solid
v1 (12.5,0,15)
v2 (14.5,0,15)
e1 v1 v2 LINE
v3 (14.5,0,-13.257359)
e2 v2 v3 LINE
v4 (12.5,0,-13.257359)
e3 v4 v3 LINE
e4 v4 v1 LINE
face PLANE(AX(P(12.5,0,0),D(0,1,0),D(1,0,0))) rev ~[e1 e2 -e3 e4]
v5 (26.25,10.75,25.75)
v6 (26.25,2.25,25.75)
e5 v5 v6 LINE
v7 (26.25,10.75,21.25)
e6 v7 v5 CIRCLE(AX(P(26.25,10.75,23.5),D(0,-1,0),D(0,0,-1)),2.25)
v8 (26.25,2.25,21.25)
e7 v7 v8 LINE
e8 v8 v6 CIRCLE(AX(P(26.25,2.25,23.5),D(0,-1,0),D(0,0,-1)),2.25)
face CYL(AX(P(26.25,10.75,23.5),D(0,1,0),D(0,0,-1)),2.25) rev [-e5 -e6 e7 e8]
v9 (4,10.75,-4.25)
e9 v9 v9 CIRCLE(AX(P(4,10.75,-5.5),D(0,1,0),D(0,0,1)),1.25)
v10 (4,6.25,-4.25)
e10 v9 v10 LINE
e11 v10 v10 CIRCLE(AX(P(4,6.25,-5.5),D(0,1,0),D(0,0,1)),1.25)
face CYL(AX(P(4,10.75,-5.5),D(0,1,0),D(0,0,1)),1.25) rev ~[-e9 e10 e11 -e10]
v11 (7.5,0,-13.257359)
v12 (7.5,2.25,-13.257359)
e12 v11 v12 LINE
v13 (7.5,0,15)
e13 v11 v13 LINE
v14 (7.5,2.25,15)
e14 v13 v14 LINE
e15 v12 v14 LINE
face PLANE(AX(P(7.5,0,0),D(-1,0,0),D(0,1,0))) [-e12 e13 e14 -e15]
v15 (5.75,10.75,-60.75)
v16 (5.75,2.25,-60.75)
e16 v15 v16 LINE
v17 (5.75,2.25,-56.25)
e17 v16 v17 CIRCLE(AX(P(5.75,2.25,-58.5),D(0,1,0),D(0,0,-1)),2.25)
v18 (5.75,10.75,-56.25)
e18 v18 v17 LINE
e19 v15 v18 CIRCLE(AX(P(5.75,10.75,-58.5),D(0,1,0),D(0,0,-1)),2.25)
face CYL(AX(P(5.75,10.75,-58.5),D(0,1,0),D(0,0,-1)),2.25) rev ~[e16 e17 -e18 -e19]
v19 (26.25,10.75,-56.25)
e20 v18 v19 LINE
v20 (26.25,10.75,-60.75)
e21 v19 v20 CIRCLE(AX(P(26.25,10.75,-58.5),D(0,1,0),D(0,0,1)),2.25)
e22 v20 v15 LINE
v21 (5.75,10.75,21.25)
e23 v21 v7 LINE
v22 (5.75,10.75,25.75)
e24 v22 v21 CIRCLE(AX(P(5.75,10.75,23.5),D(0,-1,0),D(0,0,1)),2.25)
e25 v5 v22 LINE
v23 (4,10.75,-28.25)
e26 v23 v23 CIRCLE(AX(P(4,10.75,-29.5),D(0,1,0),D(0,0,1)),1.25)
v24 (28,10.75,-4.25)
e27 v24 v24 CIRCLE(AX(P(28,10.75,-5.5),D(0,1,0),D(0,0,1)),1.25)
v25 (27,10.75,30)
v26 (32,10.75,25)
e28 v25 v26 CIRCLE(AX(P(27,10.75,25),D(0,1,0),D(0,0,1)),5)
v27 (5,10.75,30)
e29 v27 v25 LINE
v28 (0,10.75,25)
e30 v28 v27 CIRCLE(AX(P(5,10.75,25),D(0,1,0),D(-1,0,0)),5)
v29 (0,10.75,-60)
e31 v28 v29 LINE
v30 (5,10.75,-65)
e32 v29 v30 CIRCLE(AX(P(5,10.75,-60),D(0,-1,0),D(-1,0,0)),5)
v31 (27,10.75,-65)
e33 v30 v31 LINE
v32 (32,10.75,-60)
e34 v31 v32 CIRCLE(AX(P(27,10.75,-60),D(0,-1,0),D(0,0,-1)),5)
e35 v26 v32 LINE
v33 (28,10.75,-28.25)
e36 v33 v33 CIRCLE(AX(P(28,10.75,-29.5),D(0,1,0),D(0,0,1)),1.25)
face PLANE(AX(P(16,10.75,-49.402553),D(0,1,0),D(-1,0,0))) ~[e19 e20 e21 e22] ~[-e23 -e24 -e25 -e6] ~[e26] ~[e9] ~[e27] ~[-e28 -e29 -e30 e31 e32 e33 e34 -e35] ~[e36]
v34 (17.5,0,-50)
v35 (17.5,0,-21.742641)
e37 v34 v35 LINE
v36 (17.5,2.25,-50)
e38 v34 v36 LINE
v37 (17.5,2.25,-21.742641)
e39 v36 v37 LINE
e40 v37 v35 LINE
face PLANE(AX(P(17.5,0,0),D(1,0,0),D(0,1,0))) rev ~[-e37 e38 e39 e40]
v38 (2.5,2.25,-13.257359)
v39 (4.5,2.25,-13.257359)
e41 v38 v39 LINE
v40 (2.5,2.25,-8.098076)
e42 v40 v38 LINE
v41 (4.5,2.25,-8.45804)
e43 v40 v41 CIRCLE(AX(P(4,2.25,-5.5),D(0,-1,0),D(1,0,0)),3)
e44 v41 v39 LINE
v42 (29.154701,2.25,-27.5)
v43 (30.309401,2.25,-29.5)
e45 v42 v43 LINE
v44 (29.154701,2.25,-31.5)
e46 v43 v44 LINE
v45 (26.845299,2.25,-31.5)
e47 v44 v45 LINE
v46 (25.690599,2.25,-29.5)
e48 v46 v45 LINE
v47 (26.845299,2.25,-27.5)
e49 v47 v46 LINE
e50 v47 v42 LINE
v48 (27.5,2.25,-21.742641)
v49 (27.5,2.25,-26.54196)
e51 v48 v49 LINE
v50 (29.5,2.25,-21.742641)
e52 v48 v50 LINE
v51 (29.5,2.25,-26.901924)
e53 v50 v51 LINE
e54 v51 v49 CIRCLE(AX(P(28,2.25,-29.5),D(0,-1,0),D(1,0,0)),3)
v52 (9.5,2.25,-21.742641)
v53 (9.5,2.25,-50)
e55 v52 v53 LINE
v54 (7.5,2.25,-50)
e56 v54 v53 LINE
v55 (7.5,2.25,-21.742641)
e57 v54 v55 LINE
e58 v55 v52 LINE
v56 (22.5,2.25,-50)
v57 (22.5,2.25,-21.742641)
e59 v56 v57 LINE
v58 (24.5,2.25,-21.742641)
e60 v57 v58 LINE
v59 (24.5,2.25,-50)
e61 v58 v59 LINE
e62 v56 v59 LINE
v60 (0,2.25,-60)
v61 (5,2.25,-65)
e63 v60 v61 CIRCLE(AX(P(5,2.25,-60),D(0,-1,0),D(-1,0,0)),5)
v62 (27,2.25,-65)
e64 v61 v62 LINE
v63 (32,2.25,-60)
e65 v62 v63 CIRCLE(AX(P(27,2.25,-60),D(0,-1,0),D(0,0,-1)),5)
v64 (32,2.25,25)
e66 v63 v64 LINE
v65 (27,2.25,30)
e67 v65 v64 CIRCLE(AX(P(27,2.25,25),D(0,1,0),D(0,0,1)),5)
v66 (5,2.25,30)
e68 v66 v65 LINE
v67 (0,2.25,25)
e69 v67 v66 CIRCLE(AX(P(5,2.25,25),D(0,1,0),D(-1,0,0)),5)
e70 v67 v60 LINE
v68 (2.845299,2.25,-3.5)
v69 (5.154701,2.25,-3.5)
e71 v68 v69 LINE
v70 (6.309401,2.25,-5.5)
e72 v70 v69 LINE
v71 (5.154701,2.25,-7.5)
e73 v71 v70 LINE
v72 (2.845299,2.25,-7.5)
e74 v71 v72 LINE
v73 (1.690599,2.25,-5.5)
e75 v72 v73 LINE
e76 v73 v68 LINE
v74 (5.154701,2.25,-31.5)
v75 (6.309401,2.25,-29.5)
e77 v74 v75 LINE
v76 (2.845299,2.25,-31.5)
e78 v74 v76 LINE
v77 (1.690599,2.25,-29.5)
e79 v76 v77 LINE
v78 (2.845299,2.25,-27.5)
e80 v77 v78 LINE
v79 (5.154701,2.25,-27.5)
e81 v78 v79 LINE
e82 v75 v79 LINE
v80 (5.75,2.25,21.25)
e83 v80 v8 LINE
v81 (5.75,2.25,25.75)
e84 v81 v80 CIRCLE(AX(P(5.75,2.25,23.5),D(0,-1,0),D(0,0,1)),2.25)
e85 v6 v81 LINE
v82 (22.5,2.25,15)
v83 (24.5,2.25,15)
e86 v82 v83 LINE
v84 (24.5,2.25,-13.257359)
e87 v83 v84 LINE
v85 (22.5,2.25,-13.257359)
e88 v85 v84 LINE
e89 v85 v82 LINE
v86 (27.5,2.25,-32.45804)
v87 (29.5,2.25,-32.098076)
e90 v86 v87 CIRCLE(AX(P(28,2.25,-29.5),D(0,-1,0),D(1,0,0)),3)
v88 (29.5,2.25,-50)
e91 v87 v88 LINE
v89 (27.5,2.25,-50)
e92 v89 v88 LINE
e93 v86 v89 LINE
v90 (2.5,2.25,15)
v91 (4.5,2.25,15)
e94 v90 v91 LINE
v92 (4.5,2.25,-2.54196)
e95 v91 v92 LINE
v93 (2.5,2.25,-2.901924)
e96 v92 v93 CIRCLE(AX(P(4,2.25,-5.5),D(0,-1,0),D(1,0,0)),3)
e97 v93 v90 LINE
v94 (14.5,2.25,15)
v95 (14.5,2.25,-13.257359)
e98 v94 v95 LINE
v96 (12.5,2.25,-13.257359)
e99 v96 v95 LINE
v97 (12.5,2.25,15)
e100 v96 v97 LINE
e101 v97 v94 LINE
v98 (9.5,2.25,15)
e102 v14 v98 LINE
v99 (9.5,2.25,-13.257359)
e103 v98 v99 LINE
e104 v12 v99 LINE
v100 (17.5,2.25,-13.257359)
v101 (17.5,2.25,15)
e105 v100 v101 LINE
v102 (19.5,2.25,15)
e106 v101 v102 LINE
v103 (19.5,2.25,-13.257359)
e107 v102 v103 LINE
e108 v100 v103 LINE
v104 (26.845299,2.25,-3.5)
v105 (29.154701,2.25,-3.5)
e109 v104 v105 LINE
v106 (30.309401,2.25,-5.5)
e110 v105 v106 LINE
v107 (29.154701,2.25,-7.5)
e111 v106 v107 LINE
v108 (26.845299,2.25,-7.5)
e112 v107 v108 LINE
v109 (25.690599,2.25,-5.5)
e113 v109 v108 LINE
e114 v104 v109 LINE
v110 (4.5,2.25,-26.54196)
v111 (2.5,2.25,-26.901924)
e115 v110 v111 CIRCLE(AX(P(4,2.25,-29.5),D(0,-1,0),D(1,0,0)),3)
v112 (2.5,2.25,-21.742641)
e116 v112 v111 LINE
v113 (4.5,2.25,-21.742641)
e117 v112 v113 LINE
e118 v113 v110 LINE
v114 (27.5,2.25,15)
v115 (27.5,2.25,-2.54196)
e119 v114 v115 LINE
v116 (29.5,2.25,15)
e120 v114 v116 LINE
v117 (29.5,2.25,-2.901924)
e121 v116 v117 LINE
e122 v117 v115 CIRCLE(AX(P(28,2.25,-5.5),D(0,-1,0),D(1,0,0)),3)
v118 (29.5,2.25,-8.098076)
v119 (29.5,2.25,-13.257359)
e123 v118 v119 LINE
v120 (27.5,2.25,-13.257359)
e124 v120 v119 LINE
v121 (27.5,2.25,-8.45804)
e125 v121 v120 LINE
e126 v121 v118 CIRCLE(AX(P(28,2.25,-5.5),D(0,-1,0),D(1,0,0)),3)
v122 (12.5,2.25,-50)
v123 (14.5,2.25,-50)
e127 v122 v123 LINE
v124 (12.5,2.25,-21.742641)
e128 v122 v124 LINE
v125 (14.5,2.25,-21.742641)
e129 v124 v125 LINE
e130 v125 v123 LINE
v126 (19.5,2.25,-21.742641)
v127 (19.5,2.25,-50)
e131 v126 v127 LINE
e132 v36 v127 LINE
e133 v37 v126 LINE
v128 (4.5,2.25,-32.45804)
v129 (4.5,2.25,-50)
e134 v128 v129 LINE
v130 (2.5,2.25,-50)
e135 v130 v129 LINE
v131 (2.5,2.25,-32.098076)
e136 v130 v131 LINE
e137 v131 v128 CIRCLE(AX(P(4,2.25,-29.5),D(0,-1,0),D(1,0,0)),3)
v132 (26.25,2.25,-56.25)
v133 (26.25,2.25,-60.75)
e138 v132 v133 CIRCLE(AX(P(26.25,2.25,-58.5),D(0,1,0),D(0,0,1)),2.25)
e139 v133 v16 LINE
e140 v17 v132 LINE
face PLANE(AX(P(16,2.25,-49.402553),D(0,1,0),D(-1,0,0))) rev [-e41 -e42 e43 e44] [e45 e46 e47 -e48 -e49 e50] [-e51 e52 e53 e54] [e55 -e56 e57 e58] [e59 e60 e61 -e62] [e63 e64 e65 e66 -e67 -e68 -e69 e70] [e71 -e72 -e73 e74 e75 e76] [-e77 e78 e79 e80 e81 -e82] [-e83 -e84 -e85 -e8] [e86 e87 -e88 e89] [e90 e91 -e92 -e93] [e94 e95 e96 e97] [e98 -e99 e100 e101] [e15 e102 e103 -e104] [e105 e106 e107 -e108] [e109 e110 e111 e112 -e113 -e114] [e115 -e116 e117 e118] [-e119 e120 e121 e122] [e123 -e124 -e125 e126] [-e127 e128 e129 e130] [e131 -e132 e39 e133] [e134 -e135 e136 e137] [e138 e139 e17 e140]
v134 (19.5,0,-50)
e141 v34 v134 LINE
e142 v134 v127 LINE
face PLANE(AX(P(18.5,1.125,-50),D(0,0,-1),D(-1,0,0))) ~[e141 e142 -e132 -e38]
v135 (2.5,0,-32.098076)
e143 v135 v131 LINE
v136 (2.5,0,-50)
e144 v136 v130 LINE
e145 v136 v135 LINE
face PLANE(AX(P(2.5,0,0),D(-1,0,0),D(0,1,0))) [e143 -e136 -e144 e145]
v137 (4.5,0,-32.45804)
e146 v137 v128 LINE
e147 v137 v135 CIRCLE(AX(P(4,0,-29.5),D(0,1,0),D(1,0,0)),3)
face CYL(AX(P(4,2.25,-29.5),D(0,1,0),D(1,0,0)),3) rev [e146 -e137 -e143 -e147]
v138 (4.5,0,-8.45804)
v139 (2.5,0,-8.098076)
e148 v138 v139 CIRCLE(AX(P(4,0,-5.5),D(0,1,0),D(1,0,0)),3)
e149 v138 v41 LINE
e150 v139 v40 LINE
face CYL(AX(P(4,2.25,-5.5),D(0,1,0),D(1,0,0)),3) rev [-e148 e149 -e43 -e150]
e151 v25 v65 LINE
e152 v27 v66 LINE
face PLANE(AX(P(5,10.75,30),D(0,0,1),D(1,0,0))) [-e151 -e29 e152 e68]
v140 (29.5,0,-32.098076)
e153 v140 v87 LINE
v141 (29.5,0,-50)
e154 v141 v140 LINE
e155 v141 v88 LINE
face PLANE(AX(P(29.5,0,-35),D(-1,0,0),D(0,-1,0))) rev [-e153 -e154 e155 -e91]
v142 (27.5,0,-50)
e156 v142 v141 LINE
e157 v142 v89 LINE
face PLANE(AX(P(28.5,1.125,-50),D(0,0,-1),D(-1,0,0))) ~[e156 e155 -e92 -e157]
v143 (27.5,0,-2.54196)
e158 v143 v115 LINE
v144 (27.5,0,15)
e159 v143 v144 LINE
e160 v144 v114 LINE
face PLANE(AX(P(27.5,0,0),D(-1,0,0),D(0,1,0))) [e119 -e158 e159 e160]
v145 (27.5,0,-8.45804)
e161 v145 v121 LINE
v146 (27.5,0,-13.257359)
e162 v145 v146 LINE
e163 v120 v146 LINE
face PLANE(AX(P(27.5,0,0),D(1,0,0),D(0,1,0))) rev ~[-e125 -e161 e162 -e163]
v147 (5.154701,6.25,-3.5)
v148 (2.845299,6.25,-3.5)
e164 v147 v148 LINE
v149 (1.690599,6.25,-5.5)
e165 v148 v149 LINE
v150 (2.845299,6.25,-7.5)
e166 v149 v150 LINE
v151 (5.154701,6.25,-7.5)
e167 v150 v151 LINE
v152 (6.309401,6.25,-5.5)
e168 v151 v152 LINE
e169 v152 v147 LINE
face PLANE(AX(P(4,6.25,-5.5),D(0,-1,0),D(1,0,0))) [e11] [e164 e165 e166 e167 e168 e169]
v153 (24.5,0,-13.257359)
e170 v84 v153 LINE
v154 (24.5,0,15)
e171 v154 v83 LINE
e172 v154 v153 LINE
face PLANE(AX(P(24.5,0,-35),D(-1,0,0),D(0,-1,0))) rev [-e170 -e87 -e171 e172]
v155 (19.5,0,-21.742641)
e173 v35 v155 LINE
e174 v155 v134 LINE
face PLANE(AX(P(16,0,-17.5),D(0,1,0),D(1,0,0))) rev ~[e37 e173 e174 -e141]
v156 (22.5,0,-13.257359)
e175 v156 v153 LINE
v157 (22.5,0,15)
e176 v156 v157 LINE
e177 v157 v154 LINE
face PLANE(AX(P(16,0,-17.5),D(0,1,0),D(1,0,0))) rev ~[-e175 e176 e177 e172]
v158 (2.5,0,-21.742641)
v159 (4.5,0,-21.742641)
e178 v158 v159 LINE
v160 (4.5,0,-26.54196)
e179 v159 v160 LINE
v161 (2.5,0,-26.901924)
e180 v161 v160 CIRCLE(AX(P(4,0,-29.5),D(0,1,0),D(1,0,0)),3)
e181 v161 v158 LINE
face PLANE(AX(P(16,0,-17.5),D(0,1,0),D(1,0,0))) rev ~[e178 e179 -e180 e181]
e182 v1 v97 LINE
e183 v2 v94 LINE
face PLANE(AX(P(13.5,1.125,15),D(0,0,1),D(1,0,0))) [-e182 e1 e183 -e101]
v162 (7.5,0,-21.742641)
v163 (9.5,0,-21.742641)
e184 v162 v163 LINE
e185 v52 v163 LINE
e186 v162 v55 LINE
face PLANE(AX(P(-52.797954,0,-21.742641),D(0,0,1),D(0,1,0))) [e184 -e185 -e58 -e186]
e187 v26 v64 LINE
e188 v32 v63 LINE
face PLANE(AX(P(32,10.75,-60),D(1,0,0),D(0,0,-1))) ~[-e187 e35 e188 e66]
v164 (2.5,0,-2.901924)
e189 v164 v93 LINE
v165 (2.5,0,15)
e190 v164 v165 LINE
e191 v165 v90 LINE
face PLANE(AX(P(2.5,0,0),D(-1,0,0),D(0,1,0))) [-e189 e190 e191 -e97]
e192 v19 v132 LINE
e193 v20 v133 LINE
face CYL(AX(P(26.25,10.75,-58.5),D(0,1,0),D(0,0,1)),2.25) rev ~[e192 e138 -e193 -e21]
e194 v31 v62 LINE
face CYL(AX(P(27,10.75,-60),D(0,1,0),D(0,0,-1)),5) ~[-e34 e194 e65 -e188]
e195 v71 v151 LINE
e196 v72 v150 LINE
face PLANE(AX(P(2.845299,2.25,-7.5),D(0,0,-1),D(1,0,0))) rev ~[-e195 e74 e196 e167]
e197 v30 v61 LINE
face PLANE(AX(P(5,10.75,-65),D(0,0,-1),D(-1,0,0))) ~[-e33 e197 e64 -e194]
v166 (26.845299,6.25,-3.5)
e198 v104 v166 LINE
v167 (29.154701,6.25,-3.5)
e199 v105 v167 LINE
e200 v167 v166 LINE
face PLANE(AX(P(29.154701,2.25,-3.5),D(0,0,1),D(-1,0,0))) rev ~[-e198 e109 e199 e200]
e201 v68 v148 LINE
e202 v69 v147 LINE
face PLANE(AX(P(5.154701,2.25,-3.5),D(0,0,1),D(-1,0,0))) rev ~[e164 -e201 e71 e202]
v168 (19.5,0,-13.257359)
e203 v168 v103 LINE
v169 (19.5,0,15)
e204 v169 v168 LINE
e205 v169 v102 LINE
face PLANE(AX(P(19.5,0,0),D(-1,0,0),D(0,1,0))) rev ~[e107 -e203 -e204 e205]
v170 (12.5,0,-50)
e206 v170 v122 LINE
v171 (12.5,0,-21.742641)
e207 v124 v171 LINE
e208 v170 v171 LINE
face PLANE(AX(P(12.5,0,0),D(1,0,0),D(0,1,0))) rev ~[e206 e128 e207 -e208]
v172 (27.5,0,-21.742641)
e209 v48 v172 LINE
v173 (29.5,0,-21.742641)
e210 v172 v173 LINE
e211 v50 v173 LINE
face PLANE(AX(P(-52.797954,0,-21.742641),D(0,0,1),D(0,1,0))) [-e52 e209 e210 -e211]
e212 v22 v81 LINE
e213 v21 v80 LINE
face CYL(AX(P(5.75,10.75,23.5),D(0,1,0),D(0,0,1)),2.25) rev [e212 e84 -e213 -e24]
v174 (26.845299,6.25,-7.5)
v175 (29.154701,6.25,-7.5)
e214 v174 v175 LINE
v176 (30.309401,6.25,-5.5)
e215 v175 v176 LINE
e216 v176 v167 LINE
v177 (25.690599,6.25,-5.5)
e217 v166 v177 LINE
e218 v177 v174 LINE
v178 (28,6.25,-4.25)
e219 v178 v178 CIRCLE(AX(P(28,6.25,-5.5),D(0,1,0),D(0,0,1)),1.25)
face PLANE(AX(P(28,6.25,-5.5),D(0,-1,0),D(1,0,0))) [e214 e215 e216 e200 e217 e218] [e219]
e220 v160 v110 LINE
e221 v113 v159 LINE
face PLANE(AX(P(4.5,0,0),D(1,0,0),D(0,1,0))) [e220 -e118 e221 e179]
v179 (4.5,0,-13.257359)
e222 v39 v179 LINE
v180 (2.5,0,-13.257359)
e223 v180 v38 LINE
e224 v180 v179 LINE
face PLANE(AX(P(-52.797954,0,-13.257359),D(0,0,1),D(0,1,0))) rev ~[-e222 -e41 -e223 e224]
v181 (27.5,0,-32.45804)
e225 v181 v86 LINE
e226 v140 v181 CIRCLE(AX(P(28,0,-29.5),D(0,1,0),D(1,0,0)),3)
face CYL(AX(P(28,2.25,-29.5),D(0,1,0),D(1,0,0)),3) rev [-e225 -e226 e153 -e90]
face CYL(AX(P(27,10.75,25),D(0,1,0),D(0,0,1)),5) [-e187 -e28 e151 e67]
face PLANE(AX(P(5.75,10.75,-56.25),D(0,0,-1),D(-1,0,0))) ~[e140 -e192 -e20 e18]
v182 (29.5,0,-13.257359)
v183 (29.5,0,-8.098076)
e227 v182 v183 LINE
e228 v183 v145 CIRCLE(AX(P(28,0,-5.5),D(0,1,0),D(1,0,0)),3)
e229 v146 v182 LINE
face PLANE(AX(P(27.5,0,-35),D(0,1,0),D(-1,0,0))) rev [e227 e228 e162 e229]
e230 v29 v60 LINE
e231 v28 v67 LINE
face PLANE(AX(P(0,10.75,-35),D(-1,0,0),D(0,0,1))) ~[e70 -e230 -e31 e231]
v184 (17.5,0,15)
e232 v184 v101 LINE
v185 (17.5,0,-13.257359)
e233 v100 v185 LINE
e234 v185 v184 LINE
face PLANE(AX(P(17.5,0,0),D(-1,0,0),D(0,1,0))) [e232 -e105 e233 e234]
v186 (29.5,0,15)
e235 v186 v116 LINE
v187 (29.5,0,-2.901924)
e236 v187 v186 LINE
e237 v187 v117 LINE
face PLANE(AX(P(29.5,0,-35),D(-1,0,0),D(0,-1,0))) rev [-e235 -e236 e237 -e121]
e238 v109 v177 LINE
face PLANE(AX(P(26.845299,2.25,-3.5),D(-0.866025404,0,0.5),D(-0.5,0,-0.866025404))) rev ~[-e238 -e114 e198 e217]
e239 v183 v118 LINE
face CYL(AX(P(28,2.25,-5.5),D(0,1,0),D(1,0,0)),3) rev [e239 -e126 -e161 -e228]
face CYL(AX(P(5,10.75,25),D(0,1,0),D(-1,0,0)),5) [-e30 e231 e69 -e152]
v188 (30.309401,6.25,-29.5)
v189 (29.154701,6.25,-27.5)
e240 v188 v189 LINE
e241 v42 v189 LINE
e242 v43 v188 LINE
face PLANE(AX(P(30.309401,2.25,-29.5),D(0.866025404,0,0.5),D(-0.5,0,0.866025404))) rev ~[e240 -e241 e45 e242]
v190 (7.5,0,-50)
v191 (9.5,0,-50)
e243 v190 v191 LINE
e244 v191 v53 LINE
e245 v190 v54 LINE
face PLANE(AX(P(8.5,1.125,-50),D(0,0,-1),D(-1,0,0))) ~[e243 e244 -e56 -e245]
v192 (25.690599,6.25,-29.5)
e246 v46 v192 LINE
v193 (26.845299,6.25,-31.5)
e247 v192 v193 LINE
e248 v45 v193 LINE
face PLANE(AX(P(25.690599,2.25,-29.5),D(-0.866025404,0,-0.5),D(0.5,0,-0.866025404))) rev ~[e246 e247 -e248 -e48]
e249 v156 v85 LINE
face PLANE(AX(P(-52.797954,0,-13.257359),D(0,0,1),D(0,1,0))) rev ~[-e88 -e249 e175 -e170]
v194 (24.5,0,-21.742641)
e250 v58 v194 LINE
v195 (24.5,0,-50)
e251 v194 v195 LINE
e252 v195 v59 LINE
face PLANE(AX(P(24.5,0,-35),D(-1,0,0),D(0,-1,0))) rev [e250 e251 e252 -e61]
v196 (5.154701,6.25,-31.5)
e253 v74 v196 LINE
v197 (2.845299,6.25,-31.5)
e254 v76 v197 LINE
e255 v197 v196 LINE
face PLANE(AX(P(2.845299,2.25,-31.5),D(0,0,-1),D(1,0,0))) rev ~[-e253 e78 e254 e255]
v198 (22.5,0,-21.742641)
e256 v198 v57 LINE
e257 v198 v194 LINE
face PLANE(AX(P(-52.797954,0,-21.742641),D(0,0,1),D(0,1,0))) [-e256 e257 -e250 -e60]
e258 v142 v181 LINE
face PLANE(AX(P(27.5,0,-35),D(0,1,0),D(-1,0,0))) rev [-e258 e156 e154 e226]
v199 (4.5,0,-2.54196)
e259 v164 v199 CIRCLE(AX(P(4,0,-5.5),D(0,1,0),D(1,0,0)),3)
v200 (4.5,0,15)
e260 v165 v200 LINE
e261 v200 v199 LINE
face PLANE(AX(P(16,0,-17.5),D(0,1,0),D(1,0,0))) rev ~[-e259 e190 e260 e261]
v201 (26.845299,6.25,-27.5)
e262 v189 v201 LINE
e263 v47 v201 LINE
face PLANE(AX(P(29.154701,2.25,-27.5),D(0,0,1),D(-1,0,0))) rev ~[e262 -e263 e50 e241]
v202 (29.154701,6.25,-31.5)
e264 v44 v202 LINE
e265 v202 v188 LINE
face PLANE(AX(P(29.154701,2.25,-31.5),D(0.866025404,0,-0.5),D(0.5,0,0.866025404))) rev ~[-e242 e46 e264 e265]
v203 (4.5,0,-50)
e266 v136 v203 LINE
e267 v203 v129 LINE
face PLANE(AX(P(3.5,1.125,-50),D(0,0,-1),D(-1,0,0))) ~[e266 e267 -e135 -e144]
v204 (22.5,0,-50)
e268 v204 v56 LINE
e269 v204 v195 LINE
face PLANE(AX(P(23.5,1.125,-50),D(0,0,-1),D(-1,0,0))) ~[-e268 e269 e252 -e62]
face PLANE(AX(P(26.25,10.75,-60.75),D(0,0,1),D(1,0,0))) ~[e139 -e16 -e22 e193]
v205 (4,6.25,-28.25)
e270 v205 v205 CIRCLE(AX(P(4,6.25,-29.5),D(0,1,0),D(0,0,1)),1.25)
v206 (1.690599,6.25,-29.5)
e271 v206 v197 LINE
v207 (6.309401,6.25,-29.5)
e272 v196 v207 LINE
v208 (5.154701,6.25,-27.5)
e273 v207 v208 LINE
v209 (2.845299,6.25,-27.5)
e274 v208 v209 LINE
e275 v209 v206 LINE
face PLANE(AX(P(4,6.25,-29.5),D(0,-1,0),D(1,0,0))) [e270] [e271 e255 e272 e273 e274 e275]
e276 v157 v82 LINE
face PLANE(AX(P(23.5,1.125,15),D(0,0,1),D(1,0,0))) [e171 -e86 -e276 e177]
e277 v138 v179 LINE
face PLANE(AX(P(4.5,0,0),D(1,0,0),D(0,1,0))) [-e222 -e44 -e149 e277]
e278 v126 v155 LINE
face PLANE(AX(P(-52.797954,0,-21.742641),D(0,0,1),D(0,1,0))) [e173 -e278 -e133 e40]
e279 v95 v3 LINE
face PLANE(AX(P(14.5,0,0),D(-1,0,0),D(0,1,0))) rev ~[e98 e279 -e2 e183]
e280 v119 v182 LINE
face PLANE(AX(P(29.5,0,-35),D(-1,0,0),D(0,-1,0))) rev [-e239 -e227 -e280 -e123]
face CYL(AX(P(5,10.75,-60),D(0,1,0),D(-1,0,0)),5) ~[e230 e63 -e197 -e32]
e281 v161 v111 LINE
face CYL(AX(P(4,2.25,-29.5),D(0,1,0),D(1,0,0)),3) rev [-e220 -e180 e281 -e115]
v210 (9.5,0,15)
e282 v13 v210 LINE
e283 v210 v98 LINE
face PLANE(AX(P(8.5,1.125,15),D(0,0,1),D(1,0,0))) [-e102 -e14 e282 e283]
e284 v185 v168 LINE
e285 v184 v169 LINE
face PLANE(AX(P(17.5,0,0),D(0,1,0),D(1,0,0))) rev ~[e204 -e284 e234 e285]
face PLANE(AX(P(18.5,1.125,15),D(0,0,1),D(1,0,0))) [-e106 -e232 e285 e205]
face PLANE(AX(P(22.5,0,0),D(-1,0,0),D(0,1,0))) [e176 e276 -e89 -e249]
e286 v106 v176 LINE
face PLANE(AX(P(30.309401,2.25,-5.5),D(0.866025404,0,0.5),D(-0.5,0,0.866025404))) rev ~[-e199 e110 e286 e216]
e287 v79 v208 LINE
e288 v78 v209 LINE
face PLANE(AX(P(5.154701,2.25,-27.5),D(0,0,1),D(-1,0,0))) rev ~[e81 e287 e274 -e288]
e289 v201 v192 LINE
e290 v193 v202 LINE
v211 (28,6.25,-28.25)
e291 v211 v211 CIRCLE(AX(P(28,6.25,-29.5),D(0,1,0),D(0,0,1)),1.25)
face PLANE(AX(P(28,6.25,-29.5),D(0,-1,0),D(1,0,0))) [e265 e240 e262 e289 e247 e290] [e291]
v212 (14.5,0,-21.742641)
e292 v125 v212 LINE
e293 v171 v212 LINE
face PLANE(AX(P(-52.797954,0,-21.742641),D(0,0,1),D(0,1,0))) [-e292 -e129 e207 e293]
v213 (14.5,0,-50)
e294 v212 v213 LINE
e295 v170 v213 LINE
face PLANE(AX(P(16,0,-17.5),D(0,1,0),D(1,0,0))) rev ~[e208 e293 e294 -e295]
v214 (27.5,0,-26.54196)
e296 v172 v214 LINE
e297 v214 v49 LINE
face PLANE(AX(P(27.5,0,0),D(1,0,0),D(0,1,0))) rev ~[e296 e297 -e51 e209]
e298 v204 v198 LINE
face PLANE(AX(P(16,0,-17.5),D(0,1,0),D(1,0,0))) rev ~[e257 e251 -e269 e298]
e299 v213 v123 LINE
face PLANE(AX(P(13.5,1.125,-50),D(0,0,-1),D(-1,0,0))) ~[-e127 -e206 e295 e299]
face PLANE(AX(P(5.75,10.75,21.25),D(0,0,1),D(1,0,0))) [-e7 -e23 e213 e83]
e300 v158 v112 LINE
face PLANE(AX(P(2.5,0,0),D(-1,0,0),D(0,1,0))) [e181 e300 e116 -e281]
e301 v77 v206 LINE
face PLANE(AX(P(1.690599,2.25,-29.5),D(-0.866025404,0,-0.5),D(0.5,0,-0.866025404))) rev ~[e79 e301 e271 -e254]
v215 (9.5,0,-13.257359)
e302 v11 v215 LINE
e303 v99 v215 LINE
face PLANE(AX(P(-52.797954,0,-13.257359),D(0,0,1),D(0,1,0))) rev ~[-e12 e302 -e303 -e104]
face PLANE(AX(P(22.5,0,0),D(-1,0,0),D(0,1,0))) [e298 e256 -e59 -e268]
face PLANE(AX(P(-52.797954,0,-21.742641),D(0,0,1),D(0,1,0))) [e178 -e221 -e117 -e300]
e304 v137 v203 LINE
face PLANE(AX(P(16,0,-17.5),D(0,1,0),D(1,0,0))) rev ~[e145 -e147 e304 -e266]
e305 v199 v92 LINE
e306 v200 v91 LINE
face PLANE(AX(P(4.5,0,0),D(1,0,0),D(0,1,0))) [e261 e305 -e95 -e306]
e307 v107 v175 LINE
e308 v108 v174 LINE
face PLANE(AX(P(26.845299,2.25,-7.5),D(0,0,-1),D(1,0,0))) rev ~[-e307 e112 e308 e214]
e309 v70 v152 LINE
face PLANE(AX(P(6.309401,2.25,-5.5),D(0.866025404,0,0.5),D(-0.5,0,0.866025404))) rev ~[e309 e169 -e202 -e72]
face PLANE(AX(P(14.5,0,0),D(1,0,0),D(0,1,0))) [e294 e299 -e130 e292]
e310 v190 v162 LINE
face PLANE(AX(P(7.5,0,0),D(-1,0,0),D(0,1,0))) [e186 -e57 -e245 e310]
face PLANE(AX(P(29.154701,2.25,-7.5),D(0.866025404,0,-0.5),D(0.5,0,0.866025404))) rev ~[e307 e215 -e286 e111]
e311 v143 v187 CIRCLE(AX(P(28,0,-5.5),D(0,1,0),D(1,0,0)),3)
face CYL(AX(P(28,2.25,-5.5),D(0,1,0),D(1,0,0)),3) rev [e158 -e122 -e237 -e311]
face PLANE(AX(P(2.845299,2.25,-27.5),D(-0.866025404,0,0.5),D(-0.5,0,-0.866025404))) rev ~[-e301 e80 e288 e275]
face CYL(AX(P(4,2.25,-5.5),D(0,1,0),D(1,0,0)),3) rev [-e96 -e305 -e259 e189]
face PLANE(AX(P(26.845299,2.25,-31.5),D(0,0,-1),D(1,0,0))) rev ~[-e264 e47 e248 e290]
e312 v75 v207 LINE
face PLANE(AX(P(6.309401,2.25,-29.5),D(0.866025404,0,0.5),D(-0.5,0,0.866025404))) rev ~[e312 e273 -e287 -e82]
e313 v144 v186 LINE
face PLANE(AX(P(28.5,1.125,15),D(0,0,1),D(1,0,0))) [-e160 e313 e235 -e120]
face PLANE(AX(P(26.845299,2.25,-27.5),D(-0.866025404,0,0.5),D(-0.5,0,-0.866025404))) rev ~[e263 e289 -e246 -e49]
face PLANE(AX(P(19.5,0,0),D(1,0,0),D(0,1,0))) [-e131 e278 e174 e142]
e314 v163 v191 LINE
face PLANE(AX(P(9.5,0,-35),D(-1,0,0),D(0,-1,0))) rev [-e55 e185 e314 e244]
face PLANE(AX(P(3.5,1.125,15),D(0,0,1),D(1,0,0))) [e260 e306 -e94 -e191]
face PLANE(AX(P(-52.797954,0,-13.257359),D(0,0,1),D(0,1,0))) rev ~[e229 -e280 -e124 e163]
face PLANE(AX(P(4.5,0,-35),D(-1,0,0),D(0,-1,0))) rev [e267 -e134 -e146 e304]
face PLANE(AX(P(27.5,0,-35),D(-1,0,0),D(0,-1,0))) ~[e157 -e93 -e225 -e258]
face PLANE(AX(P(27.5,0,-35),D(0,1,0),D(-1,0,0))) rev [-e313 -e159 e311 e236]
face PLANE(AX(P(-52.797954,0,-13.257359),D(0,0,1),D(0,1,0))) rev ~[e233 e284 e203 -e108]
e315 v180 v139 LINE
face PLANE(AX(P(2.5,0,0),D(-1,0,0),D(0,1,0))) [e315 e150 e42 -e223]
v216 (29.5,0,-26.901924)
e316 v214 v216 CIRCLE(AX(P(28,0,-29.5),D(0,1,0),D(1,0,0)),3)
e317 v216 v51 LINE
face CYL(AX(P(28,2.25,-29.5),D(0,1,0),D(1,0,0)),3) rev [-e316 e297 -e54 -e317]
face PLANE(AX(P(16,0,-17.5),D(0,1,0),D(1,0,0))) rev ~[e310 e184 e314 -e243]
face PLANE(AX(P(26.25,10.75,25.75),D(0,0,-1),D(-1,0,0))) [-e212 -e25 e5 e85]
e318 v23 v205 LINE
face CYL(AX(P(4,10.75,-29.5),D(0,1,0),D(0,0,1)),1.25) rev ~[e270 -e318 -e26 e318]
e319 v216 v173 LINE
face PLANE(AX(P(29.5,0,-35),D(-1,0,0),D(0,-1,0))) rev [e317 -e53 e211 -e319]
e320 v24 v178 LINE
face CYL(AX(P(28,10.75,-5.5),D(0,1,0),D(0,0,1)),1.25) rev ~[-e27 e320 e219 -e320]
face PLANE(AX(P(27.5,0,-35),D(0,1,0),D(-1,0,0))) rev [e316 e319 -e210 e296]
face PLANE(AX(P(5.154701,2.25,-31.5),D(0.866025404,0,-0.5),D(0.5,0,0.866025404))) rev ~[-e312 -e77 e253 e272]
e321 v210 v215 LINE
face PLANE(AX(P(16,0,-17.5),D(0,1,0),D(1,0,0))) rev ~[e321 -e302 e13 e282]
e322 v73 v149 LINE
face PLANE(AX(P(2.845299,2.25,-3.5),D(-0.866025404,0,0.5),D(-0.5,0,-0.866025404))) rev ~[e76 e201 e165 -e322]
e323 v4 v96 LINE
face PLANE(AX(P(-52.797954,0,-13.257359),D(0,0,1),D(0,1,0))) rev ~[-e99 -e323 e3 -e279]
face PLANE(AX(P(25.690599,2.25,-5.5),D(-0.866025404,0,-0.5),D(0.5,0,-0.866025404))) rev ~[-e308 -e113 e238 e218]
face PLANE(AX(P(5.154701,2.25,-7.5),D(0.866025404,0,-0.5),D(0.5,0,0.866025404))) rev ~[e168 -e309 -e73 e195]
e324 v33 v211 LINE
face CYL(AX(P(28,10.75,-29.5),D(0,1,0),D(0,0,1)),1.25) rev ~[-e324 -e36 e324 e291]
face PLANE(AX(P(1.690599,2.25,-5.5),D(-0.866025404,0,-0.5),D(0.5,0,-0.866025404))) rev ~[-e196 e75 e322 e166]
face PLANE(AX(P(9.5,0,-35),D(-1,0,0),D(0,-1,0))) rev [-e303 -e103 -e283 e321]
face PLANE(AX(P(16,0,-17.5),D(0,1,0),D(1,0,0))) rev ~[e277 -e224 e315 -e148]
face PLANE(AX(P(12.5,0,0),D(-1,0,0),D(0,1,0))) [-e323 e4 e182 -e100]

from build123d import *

# Parameters (mm, degrees)
SKETCH_1_W                = 32
SKETCH_1_H                = 35
EXTRUDE_1_DEPTH           = 10.75
SKETCH_3_W                = 3
SKETCH_3_H                = 2.25
CUT_EXTRUDE_1_DEPTH       = 49.62676732
SKETCH_6_R                = 4.5
CUT_EXTRUDE_4_DEPTH       = 2.25
EXTRUDE_2_DEPTH           = 8.5
SKETCH_10_R               = 1.25
CUT_EXTRUDE_5_DEPTH       = 74.243173743
CUT_EXTRUDE_8_DEPTH       = 4
SKETCH_13_W               = 2
SKETCH_13_H               = 2.25
EXTRUDE_3_DEPTH           = 15
SKETCH_14_R               = 3
CUT_EXTRUDE_9_DEPTH       = 73.946898495
CUT_EXTRUDE_10_DEPTH      = 68.797953509
CUT_EXTRUDE_10_DEPTH_BACK = 68.797953509
SKETCH_15_W               = 8.485281374
SKETCH_15_H               = 2.25


with BuildPart() as part:
    # Эскиз1 → Бобышка-Вытянуть1 (new body)
    with BuildSketch(Plane(origin=(0, 0, 0), x_dir=(1, 0, 0), z_dir=(0, 1, 0))):
        with Locations((16, 17.5)):
            Rectangle(SKETCH_1_W, SKETCH_1_H)
    extrude(amount=EXTRUDE_1_DEPTH)

    # Эскиз3 → Вырез-Вытянуть1 (cut, through all)
    with BuildSketch(Plane.XY):
        with Locations((16, 1.125)):
            Rectangle(SKETCH_3_W, SKETCH_3_H)
        with Locations((21, 1.125)):
            Rectangle(SKETCH_3_W, SKETCH_3_H)
        with Locations((26, 1.125)):
            Rectangle(SKETCH_3_W, SKETCH_3_H)
        with Locations((31, 1.125)):
            Rectangle(SKETCH_3_W, SKETCH_3_H)
        with Locations((11, 1.125)):
            Rectangle(SKETCH_3_W, SKETCH_3_H)
        with Locations((6, 1.125)):
            Rectangle(SKETCH_3_W, SKETCH_3_H)
        with Locations((1, 1.125)):
            Rectangle(SKETCH_3_W, SKETCH_3_H)
    extrude(amount=-CUT_EXTRUDE_1_DEPTH, mode=Mode.SUBTRACT)

    # Эскиз6 → Вырез-Вытянуть4 (cut)
    with BuildSketch(Plane.XZ):
        with Locations((16, -17.5)):
            Circle(SKETCH_6_R)
    extrude(amount=-CUT_EXTRUDE_4_DEPTH, mode=Mode.SUBTRACT)

    # Эскиз7 → Бобышка-Вытянуть2 (add)
    with BuildSketch(Plane(origin=(0, 10.75, 0), x_dir=(1, 0, 0), z_dir=(0, 1, 0))):
        with BuildLine():
            Line((0, 0), (0, -25))
            ThreePointArc((0, -25), (1.464466094, -28.535533906), (5, -30))
            Line((5, -30), (27, -30))
            ThreePointArc((27, -30), (30.535533906, -28.535533906), (32, -25))
            Line((32, -25), (32, 0))
            Line((32, 0), (0, 0))
        make_face()
        with BuildLine():
            Line((5.75, -21.25), (26.25, -21.25))
            ThreePointArc((26.25, -21.25), (28.5, -23.5), (26.25, -25.75))
            Line((26.25, -25.75), (5.75, -25.75))
            ThreePointArc((5.75, -25.75), (3.5, -23.5), (5.75, -21.25))
        make_face(mode=Mode.SUBTRACT)
    extrude_2 = extrude(amount=-EXTRUDE_2_DEPTH)

    # Зеркальное отражение1: Бобышка-Вытянуть2 across plane
    add(extrude_2.mirror(Plane.XY.offset(-17.5)))

    # Эскиз10 → Вырез-Вытянуть5 (cut, through all)
    with BuildSketch(Plane(origin=(0, 10.75, 0), x_dir=(1, 0, 0), z_dir=(0, 1, 0))):
        with Locations(Location((4, 29.5, 0), (0, 0, 270))):
            Circle(SKETCH_10_R)
        with Locations(Location((4, 5.5, 0), (0, 0, 270))):
            Circle(SKETCH_10_R)
        with Locations(Location((28, 5.5, 0), (0, 0, 270))):
            Circle(SKETCH_10_R)
        with Locations(Location((28, 29.5, 0), (0, 0, 270))):
            Circle(SKETCH_10_R)
    extrude(amount=-CUT_EXTRUDE_5_DEPTH, mode=Mode.SUBTRACT)

    # Эскиз11 → Вырез-Вытянуть8 (cut)
    with BuildSketch(Plane.XZ.offset(-2.25)):
        Polygon((25.690598923, -5.5), (26.845299462, -7.5), (29.154700538, -7.5), (30.309401077, -5.5), (29.154700538, -3.5), (26.845299462, -3.5), align=None)
        Polygon((6.309401077, -5.5), (5.154700538, -3.5), (2.845299462, -3.5), (1.690598923, -5.5), (2.845299462, -7.5), (5.154700538, -7.5), align=None)
        Polygon((6.309401077, -29.5), (5.154700538, -27.5), (2.845299462, -27.5), (1.690598923, -29.5), (2.845299462, -31.5), (5.154700538, -31.5), align=None)
        Polygon((25.690598923, -29.5), (26.845299462, -31.5), (29.154700538, -31.5), (30.309401077, -29.5), (29.154700538, -27.5), (26.845299462, -27.5), align=None)
    extrude(amount=-CUT_EXTRUDE_8_DEPTH, mode=Mode.SUBTRACT)

    # Эскиз13 → Бобышка-Вытянуть3 (add)
    with BuildSketch(Plane.XY):
        with Locations((28.5, 1.125)):
            Rectangle(SKETCH_13_W, SKETCH_13_H)
        with Locations((23.5, 1.125)):
            Rectangle(SKETCH_13_W, SKETCH_13_H)
        with Locations((18.5, 1.125)):
            Rectangle(SKETCH_13_W, SKETCH_13_H)
        with Locations((13.5, 1.125)):
            Rectangle(SKETCH_13_W, SKETCH_13_H)
        with Locations((8.5, 1.125)):
            Rectangle(SKETCH_13_W, SKETCH_13_H)
        with Locations((3.5, 1.125)):
            Rectangle(SKETCH_13_W, SKETCH_13_H)
    extrude_3 = extrude(amount=EXTRUDE_3_DEPTH)

    # Зеркальное отражение2: Бобышка-Вытянуть3 across plane
    add(extrude_3.mirror(Plane.XY.offset(-17.5)))

    # Эскиз14 → Вырез-Вытянуть9 (cut, through all)
    with BuildSketch(Plane.XZ.offset(-2.25)):
        with Locations((28, -5.5)):
            Circle(SKETCH_14_R)
        with Locations((28, -29.5)):
            Circle(SKETCH_14_R)
        with Locations((4, -29.5)):
            Circle(SKETCH_14_R)
        with Locations((4, -5.5)):
            Circle(SKETCH_14_R)
    extrude(amount=CUT_EXTRUDE_9_DEPTH, mode=Mode.SUBTRACT)

    # Эскиз15 → Вырез-Вытянуть10 (cut, two sides: drawn at the far end of the back side and taken through both)
    with BuildSketch(Plane(origin=(16, 0, 0), x_dir=(0, 0, -1), z_dir=(1, 0, 0)).offset(-CUT_EXTRUDE_10_DEPTH_BACK)):
        with Locations((17.5, 1.125)):
            Rectangle(SKETCH_15_W, SKETCH_15_H)
    extrude(amount=CUT_EXTRUDE_10_DEPTH + CUT_EXTRUDE_10_DEPTH_BACK, mode=Mode.SUBTRACT)


solid = part.part
